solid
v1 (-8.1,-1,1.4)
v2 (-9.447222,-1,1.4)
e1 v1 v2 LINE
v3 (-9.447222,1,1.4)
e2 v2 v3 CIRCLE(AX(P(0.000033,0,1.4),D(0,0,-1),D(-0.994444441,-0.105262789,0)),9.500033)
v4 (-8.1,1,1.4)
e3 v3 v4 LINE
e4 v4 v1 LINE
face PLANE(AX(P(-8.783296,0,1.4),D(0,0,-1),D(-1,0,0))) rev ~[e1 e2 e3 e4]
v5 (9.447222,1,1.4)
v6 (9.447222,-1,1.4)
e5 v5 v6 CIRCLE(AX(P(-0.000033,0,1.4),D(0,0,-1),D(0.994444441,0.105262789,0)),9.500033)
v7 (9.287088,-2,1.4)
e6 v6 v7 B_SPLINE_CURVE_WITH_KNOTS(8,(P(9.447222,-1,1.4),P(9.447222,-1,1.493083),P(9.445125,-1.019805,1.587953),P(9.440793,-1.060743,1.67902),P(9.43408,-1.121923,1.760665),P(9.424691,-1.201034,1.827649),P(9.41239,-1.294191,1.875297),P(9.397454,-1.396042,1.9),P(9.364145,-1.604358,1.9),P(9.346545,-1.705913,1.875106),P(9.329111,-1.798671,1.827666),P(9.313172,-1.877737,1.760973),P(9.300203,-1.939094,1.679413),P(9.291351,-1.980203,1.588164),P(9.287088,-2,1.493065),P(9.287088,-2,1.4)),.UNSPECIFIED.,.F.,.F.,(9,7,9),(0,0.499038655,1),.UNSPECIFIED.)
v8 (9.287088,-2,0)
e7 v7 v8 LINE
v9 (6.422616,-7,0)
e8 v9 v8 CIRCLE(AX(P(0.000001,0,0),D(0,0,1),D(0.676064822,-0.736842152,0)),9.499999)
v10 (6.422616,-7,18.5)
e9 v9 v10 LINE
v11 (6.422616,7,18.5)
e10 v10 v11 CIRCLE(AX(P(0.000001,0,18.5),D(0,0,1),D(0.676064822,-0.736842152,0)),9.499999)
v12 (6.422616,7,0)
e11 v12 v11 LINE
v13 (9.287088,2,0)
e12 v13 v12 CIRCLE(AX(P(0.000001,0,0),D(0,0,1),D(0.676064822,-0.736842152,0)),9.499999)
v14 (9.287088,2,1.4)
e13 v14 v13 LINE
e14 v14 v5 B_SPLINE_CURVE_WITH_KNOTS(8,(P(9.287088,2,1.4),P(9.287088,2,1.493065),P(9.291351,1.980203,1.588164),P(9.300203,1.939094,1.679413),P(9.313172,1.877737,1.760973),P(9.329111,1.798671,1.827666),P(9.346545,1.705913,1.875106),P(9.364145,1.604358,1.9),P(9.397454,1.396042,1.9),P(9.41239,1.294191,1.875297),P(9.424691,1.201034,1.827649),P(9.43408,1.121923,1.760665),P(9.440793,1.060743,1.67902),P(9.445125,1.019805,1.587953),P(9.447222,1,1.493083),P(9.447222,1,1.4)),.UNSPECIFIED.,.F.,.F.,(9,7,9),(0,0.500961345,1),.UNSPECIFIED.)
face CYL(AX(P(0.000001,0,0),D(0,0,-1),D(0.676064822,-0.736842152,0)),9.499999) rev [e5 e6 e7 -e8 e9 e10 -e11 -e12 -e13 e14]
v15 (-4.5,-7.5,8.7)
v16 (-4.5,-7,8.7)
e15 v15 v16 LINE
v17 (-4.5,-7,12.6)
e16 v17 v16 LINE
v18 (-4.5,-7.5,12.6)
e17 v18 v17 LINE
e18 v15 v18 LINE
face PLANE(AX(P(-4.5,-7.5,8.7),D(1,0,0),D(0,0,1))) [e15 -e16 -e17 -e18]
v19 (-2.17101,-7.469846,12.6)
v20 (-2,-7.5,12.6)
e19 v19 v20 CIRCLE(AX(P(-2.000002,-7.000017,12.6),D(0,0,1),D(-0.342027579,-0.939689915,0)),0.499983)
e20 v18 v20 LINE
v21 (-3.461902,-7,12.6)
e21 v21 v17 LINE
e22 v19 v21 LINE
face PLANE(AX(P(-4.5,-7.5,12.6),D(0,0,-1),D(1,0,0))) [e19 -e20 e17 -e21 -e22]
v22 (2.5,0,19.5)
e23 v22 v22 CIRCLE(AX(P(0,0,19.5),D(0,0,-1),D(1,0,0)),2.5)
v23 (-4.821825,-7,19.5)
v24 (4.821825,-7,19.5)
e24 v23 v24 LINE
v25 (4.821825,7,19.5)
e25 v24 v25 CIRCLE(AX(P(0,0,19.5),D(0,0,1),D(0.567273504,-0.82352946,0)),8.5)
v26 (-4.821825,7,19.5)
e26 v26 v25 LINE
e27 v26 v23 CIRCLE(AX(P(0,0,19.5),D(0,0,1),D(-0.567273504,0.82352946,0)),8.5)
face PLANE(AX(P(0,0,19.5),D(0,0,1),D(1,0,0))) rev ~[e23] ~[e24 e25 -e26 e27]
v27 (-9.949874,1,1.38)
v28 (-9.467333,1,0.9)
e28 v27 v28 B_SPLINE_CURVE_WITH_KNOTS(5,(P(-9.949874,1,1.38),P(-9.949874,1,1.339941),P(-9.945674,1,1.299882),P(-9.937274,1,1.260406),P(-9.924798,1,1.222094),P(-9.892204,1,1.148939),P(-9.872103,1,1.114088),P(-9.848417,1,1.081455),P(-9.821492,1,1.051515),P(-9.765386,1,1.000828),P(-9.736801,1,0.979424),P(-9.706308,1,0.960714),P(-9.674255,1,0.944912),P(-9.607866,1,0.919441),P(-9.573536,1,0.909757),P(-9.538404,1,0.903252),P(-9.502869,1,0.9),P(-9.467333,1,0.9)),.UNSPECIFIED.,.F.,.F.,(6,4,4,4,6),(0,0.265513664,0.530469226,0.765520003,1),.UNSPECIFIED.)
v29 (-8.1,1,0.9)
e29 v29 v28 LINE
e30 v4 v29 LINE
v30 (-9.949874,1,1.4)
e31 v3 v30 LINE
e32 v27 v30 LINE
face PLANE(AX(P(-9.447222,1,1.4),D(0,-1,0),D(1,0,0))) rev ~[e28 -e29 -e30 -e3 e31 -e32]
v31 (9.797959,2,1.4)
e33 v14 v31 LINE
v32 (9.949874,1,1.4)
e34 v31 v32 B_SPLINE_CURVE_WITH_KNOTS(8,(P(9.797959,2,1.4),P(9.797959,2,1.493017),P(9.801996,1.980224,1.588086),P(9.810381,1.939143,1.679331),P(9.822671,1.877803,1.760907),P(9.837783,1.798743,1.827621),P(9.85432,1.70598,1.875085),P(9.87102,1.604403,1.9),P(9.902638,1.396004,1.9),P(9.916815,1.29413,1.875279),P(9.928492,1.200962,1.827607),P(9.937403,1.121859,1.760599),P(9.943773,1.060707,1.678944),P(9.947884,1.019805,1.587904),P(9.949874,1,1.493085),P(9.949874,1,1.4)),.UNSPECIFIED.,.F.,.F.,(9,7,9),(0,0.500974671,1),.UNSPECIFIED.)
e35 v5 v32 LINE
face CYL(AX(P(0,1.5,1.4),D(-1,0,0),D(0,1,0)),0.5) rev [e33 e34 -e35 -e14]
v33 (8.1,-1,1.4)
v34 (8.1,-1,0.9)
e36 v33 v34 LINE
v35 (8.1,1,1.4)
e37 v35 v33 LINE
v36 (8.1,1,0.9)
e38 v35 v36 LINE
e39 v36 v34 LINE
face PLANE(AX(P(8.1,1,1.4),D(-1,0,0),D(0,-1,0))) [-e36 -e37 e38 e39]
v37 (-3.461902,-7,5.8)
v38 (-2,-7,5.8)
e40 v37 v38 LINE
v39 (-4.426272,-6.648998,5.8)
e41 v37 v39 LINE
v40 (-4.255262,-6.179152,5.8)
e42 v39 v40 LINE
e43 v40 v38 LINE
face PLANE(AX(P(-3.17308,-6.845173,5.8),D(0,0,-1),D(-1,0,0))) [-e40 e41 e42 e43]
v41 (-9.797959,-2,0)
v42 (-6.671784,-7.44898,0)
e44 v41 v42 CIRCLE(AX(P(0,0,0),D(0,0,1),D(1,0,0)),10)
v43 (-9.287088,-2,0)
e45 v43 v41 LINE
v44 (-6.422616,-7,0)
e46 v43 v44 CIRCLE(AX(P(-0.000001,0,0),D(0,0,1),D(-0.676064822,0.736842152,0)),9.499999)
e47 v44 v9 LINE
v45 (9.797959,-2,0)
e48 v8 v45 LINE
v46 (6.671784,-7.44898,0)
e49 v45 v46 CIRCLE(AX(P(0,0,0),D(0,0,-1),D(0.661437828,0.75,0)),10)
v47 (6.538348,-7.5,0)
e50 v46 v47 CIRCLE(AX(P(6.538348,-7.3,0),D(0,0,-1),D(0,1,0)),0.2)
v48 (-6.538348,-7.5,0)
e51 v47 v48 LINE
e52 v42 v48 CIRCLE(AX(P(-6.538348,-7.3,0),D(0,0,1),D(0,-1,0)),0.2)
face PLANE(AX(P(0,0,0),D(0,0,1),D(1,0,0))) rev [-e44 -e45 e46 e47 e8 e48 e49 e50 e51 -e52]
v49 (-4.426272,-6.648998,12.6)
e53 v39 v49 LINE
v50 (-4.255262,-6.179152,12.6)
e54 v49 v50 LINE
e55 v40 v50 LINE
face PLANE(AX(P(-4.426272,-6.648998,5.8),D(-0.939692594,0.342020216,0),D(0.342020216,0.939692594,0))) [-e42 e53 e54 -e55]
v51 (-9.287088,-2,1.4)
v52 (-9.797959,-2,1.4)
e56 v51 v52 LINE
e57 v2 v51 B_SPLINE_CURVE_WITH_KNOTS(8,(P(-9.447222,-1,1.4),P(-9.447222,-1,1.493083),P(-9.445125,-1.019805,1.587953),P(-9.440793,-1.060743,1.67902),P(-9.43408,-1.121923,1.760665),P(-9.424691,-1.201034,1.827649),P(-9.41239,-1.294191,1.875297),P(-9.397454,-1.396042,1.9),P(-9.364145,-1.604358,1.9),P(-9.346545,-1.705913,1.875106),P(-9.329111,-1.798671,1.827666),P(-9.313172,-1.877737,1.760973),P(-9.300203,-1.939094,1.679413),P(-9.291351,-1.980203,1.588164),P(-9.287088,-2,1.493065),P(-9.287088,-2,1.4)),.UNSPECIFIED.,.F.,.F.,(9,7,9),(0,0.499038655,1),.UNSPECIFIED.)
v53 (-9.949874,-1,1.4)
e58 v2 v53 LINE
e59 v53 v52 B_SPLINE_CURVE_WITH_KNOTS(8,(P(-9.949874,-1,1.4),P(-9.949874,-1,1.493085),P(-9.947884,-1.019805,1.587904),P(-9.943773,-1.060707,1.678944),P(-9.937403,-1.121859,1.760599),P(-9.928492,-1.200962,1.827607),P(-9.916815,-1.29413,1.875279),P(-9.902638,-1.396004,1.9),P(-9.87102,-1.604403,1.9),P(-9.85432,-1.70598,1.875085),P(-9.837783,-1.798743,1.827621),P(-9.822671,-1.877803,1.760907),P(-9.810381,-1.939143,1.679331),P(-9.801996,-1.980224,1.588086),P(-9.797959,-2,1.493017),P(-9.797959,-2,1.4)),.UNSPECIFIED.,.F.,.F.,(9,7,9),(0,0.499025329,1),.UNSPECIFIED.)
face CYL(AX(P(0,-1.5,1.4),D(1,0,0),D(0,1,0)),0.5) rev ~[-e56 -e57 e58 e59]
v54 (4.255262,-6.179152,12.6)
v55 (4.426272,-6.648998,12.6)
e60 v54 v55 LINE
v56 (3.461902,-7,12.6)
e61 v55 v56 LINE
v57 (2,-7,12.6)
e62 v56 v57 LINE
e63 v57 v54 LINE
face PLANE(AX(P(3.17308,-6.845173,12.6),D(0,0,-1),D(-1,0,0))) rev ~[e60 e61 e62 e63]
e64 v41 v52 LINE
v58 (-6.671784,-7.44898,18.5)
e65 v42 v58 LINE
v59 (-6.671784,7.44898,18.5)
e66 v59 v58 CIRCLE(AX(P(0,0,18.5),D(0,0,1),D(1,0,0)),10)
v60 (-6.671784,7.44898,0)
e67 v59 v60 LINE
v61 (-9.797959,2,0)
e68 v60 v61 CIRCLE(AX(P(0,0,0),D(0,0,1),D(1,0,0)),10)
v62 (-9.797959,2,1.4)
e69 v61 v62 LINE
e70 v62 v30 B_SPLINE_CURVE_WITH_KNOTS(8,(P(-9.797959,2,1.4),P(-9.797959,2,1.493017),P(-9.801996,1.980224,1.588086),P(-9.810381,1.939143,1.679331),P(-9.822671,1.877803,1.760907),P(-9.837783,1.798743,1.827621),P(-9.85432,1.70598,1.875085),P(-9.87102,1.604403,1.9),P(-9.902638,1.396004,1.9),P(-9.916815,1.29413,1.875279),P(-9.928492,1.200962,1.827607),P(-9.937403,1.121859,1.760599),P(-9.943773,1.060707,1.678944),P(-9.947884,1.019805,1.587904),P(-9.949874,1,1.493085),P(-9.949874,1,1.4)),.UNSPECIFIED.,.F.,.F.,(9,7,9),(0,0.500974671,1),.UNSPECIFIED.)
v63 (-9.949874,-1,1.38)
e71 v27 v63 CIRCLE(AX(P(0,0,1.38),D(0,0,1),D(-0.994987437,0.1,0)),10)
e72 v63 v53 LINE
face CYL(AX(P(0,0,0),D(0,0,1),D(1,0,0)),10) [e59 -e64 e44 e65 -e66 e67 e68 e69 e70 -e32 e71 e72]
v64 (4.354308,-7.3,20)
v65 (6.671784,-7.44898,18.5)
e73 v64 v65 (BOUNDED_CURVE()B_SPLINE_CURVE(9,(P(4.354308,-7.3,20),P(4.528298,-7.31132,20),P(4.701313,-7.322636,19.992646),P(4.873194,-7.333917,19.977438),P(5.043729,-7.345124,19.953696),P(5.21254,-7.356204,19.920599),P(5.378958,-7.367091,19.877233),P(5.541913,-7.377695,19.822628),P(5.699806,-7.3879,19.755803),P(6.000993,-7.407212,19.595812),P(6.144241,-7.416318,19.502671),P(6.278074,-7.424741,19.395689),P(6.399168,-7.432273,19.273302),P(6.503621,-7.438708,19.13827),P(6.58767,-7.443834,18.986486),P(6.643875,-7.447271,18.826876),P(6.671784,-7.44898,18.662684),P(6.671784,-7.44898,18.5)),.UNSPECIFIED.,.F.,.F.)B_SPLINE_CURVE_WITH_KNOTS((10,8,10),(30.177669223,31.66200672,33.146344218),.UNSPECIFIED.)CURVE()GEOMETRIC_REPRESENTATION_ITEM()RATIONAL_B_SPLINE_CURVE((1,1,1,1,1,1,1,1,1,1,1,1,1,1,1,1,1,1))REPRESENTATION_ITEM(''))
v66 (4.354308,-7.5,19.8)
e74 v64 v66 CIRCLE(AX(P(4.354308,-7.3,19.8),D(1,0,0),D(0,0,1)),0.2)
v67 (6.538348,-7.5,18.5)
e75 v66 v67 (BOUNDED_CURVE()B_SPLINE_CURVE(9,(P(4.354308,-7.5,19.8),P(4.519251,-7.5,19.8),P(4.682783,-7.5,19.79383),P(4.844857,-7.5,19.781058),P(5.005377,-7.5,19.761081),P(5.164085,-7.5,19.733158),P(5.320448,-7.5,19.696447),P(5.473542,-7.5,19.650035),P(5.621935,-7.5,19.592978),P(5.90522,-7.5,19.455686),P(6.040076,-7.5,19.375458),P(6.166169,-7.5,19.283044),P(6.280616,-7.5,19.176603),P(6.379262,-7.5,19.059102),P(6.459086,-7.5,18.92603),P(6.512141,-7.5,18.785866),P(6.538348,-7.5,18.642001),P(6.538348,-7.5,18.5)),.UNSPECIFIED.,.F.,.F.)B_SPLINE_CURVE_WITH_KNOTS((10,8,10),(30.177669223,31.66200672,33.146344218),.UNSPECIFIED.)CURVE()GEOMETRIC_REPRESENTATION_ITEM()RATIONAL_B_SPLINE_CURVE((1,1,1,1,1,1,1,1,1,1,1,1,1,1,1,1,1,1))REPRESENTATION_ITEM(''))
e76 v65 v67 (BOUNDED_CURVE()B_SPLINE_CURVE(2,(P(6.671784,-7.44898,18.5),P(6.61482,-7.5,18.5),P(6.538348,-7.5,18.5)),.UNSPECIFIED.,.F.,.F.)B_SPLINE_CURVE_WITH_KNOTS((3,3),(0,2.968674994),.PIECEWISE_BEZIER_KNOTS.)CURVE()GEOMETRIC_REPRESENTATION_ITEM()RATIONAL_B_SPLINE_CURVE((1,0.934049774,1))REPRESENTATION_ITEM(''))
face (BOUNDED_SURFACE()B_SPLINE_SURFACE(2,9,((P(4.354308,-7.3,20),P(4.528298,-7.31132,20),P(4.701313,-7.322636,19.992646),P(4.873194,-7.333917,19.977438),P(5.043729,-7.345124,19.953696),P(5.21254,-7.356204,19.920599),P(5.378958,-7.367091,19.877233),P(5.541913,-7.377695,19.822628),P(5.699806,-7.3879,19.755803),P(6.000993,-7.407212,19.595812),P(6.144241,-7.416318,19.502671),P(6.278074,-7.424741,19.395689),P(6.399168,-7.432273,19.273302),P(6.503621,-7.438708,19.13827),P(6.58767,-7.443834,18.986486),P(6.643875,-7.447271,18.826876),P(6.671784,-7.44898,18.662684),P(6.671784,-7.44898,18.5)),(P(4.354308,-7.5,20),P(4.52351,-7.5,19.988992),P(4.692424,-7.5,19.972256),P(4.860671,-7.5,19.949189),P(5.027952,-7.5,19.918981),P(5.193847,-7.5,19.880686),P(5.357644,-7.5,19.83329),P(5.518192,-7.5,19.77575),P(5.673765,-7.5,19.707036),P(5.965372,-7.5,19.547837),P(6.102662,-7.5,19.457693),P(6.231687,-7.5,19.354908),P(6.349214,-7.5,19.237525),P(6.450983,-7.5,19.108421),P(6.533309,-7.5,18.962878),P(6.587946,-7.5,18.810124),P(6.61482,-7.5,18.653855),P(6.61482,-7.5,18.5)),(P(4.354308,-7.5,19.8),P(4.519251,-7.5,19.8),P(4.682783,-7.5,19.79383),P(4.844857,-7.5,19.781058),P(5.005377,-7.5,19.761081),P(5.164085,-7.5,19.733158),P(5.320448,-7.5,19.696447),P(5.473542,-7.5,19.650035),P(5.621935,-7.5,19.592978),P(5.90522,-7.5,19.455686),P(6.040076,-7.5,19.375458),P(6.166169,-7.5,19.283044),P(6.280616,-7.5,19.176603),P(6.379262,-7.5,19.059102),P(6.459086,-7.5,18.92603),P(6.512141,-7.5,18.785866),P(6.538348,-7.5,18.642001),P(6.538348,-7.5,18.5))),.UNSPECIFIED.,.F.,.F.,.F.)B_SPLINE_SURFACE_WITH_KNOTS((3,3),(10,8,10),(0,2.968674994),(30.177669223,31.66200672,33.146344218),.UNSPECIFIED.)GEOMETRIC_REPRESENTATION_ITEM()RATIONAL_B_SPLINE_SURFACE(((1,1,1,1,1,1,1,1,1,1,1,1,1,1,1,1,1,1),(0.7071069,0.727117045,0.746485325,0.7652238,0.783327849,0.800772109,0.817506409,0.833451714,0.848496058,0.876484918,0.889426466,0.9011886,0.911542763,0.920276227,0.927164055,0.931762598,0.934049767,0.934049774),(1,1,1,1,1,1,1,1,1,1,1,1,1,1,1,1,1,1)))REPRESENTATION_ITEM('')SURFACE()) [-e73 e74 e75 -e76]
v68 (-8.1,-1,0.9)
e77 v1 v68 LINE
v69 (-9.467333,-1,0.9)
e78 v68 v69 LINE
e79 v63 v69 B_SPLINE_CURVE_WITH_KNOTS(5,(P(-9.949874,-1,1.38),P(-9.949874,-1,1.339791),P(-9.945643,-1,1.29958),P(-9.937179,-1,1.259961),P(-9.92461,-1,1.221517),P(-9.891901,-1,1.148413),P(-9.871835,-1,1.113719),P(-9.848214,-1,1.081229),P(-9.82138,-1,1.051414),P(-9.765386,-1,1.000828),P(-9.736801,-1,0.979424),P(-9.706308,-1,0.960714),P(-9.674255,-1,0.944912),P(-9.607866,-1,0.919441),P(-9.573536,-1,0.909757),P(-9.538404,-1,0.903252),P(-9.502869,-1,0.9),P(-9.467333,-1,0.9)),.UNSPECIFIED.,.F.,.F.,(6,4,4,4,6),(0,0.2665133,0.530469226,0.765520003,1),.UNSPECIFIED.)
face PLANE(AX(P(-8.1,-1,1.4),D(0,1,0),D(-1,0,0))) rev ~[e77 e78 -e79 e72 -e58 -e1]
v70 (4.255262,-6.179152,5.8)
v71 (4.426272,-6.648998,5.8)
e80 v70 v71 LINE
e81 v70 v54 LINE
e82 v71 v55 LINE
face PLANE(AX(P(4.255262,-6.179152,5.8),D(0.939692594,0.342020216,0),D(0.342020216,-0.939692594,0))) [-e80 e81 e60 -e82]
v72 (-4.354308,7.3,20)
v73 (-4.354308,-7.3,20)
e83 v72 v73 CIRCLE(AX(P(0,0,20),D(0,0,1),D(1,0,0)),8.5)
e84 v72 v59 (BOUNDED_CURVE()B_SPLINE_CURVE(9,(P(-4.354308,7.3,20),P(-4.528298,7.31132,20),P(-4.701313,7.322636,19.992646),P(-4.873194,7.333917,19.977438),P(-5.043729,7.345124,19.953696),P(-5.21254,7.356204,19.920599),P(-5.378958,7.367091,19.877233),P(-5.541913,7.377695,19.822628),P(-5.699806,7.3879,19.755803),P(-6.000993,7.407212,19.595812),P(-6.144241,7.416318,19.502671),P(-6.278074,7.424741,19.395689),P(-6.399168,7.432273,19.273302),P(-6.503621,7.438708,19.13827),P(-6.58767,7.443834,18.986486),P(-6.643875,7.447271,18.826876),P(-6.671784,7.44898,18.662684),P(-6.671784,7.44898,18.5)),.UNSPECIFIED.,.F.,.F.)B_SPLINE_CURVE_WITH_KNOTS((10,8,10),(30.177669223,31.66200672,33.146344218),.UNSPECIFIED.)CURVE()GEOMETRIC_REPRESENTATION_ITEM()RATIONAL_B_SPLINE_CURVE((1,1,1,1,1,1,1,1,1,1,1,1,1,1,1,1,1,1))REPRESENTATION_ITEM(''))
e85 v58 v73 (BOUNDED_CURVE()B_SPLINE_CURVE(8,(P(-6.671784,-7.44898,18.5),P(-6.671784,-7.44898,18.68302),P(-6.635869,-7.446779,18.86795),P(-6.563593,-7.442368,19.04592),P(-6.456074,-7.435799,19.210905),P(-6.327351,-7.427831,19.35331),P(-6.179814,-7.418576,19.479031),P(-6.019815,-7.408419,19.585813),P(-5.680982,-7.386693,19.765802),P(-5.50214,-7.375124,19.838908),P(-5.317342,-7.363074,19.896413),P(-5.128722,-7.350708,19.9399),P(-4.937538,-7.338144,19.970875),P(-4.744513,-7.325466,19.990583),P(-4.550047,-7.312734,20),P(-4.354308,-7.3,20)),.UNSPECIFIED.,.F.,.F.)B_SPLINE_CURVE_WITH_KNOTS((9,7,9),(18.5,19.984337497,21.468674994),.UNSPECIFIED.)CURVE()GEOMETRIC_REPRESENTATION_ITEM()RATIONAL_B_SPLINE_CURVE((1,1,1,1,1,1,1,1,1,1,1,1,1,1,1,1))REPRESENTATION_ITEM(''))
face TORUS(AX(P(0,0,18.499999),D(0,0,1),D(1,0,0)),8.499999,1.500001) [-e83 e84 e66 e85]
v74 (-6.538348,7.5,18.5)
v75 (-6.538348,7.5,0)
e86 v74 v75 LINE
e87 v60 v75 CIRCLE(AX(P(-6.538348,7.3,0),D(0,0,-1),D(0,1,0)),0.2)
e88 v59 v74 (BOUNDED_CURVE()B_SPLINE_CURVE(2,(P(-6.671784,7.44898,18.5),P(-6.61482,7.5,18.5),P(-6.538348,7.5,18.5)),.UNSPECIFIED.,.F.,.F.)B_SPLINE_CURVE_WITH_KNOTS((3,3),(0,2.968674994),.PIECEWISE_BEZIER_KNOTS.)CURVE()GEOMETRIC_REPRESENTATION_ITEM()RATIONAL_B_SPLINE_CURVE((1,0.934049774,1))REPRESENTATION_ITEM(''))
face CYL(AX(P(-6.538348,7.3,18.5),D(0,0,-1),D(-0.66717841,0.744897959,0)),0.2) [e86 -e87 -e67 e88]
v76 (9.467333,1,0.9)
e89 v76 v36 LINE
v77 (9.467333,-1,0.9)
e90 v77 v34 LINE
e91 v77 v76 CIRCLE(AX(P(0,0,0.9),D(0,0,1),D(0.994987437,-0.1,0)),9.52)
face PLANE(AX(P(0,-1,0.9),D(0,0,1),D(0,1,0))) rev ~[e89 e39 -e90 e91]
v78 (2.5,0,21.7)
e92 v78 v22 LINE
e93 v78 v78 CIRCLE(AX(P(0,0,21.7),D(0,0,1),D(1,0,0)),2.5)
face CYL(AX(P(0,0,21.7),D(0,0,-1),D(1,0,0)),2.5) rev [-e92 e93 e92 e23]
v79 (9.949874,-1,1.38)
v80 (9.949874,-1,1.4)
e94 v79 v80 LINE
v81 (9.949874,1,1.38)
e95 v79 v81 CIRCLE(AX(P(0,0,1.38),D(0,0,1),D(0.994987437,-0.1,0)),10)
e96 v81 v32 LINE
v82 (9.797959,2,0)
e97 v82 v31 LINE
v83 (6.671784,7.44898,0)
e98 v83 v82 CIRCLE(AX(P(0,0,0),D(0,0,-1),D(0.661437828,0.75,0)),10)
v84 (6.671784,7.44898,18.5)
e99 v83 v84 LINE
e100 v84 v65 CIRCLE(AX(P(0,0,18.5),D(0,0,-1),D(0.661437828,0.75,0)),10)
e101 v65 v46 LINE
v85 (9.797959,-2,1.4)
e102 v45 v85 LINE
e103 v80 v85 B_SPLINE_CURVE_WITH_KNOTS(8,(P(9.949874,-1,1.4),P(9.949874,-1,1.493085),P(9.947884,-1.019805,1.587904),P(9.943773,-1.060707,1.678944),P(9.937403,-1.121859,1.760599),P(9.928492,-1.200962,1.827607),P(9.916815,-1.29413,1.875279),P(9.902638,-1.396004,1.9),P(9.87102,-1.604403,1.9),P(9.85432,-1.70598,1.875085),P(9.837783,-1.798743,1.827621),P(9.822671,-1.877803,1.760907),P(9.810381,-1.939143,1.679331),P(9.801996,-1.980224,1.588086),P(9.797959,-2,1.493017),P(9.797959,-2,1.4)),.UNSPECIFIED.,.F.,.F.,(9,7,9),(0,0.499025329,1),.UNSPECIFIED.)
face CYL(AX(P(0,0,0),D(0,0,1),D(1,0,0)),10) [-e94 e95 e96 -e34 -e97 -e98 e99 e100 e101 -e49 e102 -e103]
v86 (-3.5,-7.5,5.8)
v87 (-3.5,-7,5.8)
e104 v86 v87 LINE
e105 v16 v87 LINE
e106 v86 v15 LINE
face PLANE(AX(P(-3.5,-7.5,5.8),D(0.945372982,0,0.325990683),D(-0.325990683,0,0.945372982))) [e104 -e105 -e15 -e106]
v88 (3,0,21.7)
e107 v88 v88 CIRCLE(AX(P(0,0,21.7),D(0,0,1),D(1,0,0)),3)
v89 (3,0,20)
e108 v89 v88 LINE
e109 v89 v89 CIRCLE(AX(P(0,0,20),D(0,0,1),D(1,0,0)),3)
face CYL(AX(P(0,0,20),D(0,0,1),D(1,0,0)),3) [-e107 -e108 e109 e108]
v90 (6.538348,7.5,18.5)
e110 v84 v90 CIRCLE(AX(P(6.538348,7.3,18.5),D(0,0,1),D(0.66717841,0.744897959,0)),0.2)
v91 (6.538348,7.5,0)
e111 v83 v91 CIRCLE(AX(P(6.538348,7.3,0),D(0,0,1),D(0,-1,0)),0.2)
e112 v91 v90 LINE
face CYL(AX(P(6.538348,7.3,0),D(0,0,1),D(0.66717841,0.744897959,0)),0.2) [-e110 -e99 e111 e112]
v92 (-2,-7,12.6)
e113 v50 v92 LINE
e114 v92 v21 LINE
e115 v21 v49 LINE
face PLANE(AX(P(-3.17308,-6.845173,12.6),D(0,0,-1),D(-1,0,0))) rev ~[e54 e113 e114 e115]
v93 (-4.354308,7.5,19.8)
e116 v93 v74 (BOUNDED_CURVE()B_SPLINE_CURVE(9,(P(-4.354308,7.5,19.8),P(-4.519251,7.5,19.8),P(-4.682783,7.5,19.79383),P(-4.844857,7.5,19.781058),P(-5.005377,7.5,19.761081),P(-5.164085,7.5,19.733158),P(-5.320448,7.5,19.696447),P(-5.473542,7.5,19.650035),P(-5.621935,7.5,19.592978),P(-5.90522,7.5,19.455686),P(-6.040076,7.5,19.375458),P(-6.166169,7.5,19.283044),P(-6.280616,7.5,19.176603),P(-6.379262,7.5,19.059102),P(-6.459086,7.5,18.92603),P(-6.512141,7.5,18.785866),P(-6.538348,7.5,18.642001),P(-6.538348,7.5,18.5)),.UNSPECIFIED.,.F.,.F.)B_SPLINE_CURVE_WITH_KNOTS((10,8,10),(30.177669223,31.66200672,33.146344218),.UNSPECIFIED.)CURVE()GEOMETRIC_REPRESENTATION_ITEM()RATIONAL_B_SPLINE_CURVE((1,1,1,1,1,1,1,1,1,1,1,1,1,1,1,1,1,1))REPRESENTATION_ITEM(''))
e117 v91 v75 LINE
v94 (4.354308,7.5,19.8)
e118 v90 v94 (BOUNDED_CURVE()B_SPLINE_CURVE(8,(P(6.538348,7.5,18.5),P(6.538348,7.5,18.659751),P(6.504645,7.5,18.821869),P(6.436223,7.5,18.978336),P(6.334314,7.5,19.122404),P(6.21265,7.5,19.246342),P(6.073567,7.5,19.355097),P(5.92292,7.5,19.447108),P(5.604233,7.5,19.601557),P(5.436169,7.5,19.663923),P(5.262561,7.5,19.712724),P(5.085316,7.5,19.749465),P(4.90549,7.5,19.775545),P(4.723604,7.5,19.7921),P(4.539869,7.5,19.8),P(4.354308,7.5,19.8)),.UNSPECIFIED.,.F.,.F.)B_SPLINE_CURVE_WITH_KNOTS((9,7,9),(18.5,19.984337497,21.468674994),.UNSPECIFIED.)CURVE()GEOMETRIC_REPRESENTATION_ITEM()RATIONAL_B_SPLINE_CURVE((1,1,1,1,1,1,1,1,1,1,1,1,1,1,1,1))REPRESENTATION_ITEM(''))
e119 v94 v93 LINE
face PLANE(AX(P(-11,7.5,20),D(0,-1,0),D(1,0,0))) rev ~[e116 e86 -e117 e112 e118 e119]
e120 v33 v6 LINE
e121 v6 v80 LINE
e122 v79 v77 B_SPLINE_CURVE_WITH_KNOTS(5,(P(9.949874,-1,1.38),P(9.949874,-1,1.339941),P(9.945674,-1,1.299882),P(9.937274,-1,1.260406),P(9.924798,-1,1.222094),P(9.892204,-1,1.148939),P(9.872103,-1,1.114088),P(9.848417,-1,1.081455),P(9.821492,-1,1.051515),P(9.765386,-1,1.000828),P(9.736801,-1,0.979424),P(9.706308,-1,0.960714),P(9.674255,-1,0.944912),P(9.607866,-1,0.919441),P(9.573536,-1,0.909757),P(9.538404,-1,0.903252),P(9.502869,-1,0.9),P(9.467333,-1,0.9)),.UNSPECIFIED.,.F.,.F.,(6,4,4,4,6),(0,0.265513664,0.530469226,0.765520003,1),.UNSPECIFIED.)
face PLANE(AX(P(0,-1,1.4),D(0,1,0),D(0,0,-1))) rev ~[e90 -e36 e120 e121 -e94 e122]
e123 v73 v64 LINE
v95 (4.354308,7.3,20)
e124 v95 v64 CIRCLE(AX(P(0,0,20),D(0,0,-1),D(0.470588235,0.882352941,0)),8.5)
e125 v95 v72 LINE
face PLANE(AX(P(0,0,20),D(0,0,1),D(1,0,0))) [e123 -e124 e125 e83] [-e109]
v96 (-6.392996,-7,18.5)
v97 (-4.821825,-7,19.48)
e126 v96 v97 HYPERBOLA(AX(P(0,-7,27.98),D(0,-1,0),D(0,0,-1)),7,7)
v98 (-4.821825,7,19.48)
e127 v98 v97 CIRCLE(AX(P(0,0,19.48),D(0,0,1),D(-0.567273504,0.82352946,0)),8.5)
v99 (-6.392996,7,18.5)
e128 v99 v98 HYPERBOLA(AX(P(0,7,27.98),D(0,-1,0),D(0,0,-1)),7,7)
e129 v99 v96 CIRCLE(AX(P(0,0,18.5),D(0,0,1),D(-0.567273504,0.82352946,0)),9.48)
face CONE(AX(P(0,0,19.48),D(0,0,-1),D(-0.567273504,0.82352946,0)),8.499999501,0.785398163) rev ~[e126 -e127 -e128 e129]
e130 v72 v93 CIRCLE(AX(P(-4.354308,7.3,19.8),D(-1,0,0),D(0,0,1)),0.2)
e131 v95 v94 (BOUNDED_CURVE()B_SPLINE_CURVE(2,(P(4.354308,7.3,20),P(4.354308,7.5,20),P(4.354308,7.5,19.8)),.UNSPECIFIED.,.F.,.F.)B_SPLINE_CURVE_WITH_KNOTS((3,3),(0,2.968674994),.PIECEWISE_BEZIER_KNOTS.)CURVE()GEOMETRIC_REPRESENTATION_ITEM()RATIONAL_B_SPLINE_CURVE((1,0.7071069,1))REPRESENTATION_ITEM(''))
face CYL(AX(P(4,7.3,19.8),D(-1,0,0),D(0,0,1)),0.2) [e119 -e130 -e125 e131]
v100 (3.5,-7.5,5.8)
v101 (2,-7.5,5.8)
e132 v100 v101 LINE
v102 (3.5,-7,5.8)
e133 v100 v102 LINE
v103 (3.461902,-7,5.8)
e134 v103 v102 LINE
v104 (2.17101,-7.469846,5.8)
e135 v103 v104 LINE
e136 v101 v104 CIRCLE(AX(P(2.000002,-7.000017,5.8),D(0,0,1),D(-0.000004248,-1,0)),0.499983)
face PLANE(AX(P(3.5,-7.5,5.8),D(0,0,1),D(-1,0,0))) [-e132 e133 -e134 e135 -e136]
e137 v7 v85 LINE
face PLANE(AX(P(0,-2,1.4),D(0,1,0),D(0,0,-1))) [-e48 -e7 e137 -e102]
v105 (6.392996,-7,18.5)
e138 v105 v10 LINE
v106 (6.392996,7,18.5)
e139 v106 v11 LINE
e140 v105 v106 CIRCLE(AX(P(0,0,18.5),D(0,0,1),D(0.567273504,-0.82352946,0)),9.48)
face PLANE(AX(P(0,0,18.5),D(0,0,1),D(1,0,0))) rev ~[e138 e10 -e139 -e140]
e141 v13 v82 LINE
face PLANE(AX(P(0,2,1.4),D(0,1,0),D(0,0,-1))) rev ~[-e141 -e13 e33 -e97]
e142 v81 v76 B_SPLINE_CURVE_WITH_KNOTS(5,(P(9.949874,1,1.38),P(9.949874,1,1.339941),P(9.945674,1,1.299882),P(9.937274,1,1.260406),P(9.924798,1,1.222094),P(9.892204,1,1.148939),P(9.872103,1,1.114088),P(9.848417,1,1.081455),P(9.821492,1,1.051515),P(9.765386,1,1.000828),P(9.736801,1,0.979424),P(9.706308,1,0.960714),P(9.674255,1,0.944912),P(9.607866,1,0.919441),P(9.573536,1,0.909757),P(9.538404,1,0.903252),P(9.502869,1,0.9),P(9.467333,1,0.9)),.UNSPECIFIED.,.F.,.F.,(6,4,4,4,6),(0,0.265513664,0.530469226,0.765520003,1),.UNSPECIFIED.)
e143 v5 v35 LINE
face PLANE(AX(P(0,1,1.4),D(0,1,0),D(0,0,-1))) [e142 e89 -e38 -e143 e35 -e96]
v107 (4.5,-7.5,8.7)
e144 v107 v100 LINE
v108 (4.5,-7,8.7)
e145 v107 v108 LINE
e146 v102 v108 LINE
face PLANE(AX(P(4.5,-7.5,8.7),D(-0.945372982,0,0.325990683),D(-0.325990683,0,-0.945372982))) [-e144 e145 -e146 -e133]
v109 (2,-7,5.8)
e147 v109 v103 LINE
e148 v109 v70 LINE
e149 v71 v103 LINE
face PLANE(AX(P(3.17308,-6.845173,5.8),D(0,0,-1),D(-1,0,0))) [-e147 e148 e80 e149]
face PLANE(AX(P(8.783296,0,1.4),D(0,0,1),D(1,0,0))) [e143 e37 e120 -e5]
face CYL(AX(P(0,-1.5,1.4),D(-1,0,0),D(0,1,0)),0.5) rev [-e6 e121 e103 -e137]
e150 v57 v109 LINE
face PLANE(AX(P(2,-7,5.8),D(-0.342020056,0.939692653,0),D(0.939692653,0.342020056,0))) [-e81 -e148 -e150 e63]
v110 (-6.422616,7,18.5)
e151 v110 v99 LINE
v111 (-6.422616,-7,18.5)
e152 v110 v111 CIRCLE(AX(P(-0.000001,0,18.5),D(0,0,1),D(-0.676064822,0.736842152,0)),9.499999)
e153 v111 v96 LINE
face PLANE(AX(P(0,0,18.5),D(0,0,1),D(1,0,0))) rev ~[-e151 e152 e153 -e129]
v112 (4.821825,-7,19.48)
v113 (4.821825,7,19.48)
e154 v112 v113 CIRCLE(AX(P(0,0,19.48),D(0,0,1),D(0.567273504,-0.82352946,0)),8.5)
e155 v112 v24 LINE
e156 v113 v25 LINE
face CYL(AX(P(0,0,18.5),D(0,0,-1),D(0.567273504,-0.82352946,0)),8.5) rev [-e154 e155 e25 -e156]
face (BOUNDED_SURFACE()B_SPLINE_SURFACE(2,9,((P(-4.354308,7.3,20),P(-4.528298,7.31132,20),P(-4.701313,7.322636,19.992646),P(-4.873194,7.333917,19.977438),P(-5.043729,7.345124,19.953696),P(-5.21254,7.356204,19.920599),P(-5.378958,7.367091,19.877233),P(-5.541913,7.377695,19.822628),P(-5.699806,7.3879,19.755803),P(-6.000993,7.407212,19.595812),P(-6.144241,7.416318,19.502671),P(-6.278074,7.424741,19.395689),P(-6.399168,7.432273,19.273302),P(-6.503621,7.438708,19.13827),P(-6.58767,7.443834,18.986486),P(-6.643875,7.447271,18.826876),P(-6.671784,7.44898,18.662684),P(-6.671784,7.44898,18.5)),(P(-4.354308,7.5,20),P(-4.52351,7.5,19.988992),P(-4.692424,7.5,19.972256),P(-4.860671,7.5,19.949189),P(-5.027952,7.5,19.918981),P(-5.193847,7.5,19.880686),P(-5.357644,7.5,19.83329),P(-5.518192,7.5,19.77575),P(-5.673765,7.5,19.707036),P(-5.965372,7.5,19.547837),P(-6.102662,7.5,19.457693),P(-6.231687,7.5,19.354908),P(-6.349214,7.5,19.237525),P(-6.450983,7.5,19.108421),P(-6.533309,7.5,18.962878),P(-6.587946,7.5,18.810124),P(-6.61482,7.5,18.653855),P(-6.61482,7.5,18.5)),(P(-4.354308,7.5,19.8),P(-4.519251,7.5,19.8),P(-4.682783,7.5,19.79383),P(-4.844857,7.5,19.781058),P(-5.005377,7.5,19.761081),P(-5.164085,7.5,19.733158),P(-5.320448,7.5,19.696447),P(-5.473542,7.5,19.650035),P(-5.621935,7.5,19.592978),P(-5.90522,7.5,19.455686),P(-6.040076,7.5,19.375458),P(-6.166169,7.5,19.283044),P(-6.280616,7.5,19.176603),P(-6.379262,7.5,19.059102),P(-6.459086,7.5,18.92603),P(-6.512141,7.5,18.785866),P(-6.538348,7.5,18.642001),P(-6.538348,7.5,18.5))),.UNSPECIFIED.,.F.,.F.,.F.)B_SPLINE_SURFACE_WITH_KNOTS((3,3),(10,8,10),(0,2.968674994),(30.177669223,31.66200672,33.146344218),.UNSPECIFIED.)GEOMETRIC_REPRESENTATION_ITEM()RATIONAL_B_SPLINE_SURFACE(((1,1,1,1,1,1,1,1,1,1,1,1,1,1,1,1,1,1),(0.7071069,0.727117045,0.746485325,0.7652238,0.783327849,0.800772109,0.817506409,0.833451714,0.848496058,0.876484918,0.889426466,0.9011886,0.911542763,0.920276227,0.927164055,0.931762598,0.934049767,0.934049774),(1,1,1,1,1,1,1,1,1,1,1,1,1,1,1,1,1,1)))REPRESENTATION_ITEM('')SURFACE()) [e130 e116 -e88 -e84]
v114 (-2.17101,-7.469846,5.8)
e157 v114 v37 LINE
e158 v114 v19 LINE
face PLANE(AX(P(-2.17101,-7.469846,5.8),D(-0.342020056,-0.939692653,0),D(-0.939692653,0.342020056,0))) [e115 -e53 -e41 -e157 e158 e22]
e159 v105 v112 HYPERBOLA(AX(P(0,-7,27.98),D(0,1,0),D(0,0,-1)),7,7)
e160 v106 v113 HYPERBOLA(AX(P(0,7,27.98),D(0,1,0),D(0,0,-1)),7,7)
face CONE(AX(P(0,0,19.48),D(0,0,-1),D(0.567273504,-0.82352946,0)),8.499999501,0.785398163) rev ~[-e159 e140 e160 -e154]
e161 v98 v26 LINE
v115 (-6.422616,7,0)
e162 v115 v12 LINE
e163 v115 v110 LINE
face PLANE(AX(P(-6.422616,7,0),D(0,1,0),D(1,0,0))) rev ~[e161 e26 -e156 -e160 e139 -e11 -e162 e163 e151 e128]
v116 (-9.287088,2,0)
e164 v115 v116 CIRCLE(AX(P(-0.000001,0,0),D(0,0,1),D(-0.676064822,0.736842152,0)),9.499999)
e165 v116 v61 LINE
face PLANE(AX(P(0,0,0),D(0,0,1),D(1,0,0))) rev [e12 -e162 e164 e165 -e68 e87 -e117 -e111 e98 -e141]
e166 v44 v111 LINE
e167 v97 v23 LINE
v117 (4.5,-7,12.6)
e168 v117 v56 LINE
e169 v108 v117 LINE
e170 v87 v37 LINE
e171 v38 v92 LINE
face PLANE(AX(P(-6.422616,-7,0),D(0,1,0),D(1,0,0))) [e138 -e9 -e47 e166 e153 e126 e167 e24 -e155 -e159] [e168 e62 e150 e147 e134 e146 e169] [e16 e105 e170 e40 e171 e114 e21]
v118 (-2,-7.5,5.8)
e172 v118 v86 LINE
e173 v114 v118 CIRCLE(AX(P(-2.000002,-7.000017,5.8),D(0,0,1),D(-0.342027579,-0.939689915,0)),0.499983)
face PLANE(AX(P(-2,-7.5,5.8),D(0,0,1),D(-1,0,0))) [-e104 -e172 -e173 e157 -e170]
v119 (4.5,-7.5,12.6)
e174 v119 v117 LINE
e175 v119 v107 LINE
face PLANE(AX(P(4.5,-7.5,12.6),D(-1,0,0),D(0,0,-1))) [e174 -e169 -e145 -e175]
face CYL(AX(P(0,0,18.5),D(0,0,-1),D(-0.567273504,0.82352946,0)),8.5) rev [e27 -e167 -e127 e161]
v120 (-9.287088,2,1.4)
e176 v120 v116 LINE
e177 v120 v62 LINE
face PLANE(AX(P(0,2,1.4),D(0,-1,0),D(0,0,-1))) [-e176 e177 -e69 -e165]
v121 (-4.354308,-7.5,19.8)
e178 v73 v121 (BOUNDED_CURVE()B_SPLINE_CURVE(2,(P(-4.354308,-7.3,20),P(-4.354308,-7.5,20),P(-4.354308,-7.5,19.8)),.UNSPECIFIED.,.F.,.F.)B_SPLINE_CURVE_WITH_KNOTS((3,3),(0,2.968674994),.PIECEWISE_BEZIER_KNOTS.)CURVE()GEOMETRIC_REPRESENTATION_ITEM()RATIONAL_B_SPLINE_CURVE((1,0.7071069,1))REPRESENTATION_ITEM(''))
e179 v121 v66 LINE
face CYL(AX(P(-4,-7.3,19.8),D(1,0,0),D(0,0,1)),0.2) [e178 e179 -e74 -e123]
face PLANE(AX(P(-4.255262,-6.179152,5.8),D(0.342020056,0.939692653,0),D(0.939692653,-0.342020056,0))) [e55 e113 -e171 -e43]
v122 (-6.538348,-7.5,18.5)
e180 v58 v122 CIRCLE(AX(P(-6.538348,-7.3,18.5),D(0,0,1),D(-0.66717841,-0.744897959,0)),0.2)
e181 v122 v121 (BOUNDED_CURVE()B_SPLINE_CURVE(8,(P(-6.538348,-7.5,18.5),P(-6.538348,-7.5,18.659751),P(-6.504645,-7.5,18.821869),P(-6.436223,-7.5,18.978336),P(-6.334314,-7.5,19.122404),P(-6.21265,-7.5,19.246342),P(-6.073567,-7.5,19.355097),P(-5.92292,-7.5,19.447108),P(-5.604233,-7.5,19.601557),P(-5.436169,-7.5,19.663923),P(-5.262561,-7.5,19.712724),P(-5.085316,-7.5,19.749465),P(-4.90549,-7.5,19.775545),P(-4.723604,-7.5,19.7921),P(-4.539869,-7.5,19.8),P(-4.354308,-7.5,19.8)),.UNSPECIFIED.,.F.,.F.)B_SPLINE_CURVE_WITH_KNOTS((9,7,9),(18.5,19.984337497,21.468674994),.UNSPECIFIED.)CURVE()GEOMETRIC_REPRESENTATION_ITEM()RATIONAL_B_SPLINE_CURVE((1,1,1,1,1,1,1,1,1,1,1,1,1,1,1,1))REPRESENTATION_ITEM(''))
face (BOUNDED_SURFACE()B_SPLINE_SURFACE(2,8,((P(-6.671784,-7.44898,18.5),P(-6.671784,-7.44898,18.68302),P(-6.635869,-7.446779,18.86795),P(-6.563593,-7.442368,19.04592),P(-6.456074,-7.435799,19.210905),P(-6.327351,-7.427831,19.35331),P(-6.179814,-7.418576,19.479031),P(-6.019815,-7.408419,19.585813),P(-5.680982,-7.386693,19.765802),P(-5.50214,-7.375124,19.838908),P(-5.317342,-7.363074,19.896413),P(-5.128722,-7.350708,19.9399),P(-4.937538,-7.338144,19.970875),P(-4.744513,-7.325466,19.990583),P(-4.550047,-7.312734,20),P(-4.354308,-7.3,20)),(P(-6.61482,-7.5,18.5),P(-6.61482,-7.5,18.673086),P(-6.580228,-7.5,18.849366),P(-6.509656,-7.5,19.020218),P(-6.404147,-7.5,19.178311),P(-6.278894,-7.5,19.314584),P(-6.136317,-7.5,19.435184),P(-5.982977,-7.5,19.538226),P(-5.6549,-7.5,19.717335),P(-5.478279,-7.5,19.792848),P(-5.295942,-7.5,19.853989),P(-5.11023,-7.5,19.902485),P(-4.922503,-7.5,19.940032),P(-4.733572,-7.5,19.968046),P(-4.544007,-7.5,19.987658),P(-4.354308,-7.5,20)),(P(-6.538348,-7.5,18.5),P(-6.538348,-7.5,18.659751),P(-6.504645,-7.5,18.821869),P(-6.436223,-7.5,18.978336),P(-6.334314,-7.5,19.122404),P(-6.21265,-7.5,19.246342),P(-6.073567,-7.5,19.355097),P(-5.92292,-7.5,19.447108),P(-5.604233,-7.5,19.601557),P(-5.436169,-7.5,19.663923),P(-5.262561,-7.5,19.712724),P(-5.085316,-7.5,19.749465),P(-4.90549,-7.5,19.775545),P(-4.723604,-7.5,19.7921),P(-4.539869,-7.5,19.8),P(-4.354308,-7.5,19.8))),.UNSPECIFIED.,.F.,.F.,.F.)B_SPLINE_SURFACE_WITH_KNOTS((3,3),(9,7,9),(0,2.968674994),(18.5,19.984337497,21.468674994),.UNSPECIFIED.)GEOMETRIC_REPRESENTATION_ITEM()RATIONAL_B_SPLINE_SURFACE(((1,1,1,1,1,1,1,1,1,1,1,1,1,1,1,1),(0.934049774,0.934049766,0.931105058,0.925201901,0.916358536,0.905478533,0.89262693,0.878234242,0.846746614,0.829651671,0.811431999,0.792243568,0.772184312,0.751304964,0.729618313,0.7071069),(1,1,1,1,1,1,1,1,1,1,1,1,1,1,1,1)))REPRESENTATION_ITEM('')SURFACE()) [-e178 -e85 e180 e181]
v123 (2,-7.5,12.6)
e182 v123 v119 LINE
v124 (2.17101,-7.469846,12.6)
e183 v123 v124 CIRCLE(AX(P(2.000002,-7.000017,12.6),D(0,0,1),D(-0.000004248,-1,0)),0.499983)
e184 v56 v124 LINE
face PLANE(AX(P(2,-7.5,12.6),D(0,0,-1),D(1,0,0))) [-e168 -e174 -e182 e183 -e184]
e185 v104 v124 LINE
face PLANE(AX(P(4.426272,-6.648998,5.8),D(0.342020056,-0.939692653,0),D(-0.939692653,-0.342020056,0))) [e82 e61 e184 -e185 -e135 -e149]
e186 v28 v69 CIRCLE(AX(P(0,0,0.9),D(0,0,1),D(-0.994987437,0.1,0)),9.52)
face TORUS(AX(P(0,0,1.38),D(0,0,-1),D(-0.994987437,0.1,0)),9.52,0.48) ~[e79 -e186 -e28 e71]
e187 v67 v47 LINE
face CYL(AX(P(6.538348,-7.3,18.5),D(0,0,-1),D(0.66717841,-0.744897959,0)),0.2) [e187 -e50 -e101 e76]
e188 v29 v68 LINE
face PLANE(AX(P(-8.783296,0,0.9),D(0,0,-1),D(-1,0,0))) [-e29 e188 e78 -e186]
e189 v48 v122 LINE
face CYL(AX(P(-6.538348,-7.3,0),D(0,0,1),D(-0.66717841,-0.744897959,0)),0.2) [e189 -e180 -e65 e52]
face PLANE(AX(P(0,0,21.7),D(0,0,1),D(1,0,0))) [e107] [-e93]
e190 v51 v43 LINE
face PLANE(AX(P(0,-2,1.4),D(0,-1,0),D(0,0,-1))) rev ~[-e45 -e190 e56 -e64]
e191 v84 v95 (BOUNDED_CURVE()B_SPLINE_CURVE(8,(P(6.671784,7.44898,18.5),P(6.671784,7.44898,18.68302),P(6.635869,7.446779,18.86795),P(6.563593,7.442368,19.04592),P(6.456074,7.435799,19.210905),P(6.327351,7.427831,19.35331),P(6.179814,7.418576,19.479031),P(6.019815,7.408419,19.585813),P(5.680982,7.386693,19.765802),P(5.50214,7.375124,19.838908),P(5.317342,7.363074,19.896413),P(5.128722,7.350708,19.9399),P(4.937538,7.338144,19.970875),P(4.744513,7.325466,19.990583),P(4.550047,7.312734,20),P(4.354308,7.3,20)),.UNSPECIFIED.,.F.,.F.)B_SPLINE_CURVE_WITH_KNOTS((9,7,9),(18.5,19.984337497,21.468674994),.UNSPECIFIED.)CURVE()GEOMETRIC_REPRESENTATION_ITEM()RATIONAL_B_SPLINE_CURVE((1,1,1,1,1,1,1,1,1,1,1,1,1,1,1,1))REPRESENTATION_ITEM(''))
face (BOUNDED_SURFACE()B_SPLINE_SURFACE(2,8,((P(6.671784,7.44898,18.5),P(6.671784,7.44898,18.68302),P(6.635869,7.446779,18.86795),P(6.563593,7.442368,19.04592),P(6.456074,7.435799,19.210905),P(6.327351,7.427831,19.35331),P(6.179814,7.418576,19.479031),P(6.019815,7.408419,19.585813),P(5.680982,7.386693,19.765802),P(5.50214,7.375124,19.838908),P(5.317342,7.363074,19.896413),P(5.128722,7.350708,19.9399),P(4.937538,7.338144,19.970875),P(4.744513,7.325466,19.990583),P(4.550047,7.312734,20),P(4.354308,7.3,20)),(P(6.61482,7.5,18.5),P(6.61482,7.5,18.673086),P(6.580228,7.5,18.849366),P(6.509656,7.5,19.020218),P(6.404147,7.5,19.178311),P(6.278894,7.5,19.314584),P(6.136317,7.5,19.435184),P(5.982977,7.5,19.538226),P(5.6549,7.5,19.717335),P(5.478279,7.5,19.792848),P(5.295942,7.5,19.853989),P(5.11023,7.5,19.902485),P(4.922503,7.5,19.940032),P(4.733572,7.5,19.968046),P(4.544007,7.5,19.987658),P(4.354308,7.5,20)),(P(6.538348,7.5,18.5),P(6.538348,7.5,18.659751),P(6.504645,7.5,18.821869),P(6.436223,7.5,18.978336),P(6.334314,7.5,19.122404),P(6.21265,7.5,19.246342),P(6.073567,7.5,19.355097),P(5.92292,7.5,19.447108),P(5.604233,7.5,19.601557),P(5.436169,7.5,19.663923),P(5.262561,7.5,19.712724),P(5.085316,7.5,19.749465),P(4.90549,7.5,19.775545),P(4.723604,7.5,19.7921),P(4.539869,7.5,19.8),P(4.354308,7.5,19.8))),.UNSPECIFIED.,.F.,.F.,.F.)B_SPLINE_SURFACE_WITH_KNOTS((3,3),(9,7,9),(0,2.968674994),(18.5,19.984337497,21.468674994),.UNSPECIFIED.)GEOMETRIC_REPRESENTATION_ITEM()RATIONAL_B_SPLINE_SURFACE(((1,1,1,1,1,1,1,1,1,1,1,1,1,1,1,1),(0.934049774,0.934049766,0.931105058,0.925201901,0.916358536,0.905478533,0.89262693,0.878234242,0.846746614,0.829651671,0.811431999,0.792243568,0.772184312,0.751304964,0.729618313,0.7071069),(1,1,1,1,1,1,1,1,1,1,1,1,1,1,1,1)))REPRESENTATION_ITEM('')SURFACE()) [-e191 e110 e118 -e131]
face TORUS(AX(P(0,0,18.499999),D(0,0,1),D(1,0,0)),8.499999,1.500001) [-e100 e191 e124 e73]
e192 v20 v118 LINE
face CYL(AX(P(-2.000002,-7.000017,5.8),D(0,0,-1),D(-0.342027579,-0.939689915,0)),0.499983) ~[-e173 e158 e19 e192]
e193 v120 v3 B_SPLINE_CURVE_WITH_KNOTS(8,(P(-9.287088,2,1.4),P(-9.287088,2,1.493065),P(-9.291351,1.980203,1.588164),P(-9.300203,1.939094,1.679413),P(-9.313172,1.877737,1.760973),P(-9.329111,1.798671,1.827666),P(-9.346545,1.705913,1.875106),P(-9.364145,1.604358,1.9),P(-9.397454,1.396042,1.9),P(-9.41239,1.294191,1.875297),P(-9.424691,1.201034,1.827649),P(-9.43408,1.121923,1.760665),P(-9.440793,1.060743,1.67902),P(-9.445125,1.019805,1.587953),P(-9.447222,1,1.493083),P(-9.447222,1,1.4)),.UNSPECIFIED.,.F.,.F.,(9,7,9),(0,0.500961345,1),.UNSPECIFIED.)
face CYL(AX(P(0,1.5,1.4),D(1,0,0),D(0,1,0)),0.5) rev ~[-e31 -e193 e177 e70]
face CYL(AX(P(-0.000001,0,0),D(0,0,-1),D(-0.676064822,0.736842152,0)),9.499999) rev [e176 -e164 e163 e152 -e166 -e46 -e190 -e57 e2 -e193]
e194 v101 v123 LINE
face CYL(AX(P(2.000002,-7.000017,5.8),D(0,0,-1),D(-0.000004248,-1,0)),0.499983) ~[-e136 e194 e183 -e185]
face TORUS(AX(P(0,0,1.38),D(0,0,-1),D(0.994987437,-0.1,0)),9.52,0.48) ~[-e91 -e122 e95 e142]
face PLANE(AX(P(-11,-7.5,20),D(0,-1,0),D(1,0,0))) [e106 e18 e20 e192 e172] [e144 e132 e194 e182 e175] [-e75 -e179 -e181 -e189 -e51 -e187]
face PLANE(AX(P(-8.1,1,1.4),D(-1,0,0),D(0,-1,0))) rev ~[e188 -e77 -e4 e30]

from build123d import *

# Parameters (mm, degrees)
SKETCH001_W          = 24
SKETCH001_H          = 24
SKETCH001_W_2        = 22
SKETCH001_H_2        = 15
POCKET_DEPTH         = 20.001
POCKET001_DEPTH      = 18.5
POCKET011_DEPTH      = 1
CHAMFER_SIZE         = 0.98
POCKET009_DEPTH      = 10.001
POCKET009_DEPTH_BACK = 10.001
PAD_DEPTH            = 0.5
POCKET010_DEPTH      = 0.6
PAD001_DEPTH         = 6.8
FILLET001_R          = 0.2
FILLET002_R          = 0.48


with BuildPart() as part:
    # Sketch → Revolution (revolve)
    with BuildSketch(Plane.XZ):
        with BuildLine():
            Line((2.5, 0), (10, 0))
            Line((10, 0), (10, 18.5))
            ThreePointArc((10, 18.5), (9.56066, 19.56066), (8.5, 20))
            Line((8.5, 20), (3, 20))
            Line((3, 20), (3, 21.7))
            Line((3, 21.7), (2.5, 21.7))
            Line((2.5, 21.7), (2.5, 0))
        make_face()
    revolve(axis=Axis((0, 0, 0), (0, 0, 1)))

    # Sketch001 → Pocket (cut, through all)
    with BuildSketch(Plane.XY.offset(20)):
        Rectangle(SKETCH001_W, SKETCH001_H)
        Rectangle(SKETCH001_W_2, SKETCH001_H_2, mode=Mode.SUBTRACT)
    extrude(amount=-POCKET_DEPTH, mode=Mode.SUBTRACT)

    # Sketch002 → Pocket001 (cut)
    with BuildSketch(Plane.XY):
        with BuildLine():
            ThreePointArc((-6.422616, 7), (-9.5, 0), (-6.422616, -7))
            Line((-6.422616, -7), (6.422616, -7))
            ThreePointArc((6.422616, -7), (9.5, 0), (6.422616, 7))
            Line((-6.422616, 7), (6.422616, 7))
        make_face()
    extrude(amount=POCKET001_DEPTH, mode=Mode.SUBTRACT)

    # Sketch016 → Pocket011 (cut)
    with BuildSketch(Plane.XY.offset(18.5)):
        with BuildLine():
            ThreePointArc((-4.821825, 7), (-8.5, 0), (-4.821825, -7))
            Line((-4.821825, -7), (4.821825, -7))
            ThreePointArc((4.821825, -7), (8.5, 0), (4.821825, 7))
            Line((-4.821825, 7), (4.821825, 7))
        make_face()
    extrude(amount=POCKET011_DEPTH, mode=Mode.SUBTRACT)

    # Chamfer
    chamfer_edges = [part.edges().sort_by_distance(p)[0] for p in [
        (8.5, 0, 18.5),
        (-8.5, 0, 18.5),
    ]]
    chamfer(chamfer_edges, length=CHAMFER_SIZE)

    # Sketch011 → Pocket009 (cut, two sides)
    with BuildSketch(Plane.YZ) as pocket009_sk:
        with BuildLine():
            ThreePointArc((-1, 1.4), (-1.5, 1.9), (-2, 1.4))
            Line((-2, 1.4), (-2, -0.5))
            Line((-2, -0.5), (2, -0.5))
            Line((2, 1.4), (2, -0.5))
            ThreePointArc((2, 1.4), (1.5, 1.9), (1, 1.4))
            Line((1, 1.4), (1, 0.9))
            Line((-1, 0.9), (1, 0.9))
            Line((-1, 1.4), (-1, 0.9))
        make_face()
    extrude(amount=-POCKET009_DEPTH, mode=Mode.SUBTRACT)
    extrude(pocket009_sk.sketch, amount=POCKET009_DEPTH_BACK, mode=Mode.SUBTRACT)

    # Sketch012 → Pad (join)
    with BuildSketch(Plane(origin=(0, 0, 1.4), x_dir=(-1, 0, 0), z_dir=(0, 0, -1))):
        with BuildLine():
            Line((9.447222, 1), (8.1, 1))
            Line((8.1, 1), (8.1, -1))
            Line((8.1, -1), (9.447222, -1))
            ThreePointArc((9.447222, -1), (9.5, 0), (9.447222, 1))
        make_face()
        with BuildLine():
            Line((-9.447222, 1), (-8.1, 1))
            Line((-8.1, 1), (-8.1, -1))
            Line((-8.1, -1), (-9.447222, -1))
            ThreePointArc((-9.447222, 1), (-9.5, 0), (-9.447222, -1))
        make_face()
    extrude(amount=PAD_DEPTH)

    # Sketch013 → Pocket010 (cut)
    with BuildSketch(Plane.XZ.offset(7.5)):
        Polygon((2, 12.6), (4.5, 12.6), (4.5, 8.7), (3.5, 5.8), (2, 5.8), align=None)
        Polygon((-4.5, 12.6), (-2, 12.6), (-2, 5.8), (-3.5, 5.8), (-4.5, 8.7), align=None)
    extrude(amount=-POCKET010_DEPTH, mode=Mode.SUBTRACT)

    # Sketch014 → Pad001 (join)
    with BuildSketch(Plane.XY.offset(5.8)):
        with BuildLine():
            Line((2, -7), (4.255262, -6.179152))
            Line((4.255262, -6.179152), (4.426272, -6.648998))
            Line((4.426272, -6.648998), (2.17101, -7.469846))
            ThreePointArc((2, -7.5), (2.086824, -7.492404), (2.17101, -7.469846))
            Line((2, -7), (2, -7.5))
        make_face()
        with BuildLine():
            Line((-2, -7), (-2, -7.5))
            ThreePointArc((-2.17101, -7.469846), (-2.086824, -7.492404), (-2, -7.5))
            Line((-2.17101, -7.469846), (-4.426272, -6.648998))
            Line((-4.426272, -6.648998), (-4.255262, -6.179152))
            Line((-4.255262, -6.179152), (-2, -7))
        make_face()
    extrude(amount=PAD001_DEPTH)

    # Fillet001
    fillet001_edges = [part.edges().sort_by_distance(p)[0] for p in [
        (-6.614378, -7.5, 9.25),
        (-5.626056, -7.5, 19.717894),
        (0, -7.5, 20),
        (5.626056, -7.5, 19.717894),
        (6.614378, -7.5, 9.25),
        (6.614378, 7.5, 9.25),
        (5.626056, 7.5, 19.717894),
        (0, 7.5, 20),
        (-5.626056, 7.5, 19.717894),
        (-6.614378, 7.5, 9.25),
    ]]
    fillet(fillet001_edges, radius=FILLET001_R)

    # Fillet002
    fillet002_edges = [part.edges().sort_by_distance(p)[0] for p in [
        (-10, 0, 0.9),
        (9.987461, 0.500628, 0.9),
        (9.987461, -0.500628, 0.9),
    ]]
    fillet(fillet002_edges, radius=FILLET002_R)


solid = part.part
